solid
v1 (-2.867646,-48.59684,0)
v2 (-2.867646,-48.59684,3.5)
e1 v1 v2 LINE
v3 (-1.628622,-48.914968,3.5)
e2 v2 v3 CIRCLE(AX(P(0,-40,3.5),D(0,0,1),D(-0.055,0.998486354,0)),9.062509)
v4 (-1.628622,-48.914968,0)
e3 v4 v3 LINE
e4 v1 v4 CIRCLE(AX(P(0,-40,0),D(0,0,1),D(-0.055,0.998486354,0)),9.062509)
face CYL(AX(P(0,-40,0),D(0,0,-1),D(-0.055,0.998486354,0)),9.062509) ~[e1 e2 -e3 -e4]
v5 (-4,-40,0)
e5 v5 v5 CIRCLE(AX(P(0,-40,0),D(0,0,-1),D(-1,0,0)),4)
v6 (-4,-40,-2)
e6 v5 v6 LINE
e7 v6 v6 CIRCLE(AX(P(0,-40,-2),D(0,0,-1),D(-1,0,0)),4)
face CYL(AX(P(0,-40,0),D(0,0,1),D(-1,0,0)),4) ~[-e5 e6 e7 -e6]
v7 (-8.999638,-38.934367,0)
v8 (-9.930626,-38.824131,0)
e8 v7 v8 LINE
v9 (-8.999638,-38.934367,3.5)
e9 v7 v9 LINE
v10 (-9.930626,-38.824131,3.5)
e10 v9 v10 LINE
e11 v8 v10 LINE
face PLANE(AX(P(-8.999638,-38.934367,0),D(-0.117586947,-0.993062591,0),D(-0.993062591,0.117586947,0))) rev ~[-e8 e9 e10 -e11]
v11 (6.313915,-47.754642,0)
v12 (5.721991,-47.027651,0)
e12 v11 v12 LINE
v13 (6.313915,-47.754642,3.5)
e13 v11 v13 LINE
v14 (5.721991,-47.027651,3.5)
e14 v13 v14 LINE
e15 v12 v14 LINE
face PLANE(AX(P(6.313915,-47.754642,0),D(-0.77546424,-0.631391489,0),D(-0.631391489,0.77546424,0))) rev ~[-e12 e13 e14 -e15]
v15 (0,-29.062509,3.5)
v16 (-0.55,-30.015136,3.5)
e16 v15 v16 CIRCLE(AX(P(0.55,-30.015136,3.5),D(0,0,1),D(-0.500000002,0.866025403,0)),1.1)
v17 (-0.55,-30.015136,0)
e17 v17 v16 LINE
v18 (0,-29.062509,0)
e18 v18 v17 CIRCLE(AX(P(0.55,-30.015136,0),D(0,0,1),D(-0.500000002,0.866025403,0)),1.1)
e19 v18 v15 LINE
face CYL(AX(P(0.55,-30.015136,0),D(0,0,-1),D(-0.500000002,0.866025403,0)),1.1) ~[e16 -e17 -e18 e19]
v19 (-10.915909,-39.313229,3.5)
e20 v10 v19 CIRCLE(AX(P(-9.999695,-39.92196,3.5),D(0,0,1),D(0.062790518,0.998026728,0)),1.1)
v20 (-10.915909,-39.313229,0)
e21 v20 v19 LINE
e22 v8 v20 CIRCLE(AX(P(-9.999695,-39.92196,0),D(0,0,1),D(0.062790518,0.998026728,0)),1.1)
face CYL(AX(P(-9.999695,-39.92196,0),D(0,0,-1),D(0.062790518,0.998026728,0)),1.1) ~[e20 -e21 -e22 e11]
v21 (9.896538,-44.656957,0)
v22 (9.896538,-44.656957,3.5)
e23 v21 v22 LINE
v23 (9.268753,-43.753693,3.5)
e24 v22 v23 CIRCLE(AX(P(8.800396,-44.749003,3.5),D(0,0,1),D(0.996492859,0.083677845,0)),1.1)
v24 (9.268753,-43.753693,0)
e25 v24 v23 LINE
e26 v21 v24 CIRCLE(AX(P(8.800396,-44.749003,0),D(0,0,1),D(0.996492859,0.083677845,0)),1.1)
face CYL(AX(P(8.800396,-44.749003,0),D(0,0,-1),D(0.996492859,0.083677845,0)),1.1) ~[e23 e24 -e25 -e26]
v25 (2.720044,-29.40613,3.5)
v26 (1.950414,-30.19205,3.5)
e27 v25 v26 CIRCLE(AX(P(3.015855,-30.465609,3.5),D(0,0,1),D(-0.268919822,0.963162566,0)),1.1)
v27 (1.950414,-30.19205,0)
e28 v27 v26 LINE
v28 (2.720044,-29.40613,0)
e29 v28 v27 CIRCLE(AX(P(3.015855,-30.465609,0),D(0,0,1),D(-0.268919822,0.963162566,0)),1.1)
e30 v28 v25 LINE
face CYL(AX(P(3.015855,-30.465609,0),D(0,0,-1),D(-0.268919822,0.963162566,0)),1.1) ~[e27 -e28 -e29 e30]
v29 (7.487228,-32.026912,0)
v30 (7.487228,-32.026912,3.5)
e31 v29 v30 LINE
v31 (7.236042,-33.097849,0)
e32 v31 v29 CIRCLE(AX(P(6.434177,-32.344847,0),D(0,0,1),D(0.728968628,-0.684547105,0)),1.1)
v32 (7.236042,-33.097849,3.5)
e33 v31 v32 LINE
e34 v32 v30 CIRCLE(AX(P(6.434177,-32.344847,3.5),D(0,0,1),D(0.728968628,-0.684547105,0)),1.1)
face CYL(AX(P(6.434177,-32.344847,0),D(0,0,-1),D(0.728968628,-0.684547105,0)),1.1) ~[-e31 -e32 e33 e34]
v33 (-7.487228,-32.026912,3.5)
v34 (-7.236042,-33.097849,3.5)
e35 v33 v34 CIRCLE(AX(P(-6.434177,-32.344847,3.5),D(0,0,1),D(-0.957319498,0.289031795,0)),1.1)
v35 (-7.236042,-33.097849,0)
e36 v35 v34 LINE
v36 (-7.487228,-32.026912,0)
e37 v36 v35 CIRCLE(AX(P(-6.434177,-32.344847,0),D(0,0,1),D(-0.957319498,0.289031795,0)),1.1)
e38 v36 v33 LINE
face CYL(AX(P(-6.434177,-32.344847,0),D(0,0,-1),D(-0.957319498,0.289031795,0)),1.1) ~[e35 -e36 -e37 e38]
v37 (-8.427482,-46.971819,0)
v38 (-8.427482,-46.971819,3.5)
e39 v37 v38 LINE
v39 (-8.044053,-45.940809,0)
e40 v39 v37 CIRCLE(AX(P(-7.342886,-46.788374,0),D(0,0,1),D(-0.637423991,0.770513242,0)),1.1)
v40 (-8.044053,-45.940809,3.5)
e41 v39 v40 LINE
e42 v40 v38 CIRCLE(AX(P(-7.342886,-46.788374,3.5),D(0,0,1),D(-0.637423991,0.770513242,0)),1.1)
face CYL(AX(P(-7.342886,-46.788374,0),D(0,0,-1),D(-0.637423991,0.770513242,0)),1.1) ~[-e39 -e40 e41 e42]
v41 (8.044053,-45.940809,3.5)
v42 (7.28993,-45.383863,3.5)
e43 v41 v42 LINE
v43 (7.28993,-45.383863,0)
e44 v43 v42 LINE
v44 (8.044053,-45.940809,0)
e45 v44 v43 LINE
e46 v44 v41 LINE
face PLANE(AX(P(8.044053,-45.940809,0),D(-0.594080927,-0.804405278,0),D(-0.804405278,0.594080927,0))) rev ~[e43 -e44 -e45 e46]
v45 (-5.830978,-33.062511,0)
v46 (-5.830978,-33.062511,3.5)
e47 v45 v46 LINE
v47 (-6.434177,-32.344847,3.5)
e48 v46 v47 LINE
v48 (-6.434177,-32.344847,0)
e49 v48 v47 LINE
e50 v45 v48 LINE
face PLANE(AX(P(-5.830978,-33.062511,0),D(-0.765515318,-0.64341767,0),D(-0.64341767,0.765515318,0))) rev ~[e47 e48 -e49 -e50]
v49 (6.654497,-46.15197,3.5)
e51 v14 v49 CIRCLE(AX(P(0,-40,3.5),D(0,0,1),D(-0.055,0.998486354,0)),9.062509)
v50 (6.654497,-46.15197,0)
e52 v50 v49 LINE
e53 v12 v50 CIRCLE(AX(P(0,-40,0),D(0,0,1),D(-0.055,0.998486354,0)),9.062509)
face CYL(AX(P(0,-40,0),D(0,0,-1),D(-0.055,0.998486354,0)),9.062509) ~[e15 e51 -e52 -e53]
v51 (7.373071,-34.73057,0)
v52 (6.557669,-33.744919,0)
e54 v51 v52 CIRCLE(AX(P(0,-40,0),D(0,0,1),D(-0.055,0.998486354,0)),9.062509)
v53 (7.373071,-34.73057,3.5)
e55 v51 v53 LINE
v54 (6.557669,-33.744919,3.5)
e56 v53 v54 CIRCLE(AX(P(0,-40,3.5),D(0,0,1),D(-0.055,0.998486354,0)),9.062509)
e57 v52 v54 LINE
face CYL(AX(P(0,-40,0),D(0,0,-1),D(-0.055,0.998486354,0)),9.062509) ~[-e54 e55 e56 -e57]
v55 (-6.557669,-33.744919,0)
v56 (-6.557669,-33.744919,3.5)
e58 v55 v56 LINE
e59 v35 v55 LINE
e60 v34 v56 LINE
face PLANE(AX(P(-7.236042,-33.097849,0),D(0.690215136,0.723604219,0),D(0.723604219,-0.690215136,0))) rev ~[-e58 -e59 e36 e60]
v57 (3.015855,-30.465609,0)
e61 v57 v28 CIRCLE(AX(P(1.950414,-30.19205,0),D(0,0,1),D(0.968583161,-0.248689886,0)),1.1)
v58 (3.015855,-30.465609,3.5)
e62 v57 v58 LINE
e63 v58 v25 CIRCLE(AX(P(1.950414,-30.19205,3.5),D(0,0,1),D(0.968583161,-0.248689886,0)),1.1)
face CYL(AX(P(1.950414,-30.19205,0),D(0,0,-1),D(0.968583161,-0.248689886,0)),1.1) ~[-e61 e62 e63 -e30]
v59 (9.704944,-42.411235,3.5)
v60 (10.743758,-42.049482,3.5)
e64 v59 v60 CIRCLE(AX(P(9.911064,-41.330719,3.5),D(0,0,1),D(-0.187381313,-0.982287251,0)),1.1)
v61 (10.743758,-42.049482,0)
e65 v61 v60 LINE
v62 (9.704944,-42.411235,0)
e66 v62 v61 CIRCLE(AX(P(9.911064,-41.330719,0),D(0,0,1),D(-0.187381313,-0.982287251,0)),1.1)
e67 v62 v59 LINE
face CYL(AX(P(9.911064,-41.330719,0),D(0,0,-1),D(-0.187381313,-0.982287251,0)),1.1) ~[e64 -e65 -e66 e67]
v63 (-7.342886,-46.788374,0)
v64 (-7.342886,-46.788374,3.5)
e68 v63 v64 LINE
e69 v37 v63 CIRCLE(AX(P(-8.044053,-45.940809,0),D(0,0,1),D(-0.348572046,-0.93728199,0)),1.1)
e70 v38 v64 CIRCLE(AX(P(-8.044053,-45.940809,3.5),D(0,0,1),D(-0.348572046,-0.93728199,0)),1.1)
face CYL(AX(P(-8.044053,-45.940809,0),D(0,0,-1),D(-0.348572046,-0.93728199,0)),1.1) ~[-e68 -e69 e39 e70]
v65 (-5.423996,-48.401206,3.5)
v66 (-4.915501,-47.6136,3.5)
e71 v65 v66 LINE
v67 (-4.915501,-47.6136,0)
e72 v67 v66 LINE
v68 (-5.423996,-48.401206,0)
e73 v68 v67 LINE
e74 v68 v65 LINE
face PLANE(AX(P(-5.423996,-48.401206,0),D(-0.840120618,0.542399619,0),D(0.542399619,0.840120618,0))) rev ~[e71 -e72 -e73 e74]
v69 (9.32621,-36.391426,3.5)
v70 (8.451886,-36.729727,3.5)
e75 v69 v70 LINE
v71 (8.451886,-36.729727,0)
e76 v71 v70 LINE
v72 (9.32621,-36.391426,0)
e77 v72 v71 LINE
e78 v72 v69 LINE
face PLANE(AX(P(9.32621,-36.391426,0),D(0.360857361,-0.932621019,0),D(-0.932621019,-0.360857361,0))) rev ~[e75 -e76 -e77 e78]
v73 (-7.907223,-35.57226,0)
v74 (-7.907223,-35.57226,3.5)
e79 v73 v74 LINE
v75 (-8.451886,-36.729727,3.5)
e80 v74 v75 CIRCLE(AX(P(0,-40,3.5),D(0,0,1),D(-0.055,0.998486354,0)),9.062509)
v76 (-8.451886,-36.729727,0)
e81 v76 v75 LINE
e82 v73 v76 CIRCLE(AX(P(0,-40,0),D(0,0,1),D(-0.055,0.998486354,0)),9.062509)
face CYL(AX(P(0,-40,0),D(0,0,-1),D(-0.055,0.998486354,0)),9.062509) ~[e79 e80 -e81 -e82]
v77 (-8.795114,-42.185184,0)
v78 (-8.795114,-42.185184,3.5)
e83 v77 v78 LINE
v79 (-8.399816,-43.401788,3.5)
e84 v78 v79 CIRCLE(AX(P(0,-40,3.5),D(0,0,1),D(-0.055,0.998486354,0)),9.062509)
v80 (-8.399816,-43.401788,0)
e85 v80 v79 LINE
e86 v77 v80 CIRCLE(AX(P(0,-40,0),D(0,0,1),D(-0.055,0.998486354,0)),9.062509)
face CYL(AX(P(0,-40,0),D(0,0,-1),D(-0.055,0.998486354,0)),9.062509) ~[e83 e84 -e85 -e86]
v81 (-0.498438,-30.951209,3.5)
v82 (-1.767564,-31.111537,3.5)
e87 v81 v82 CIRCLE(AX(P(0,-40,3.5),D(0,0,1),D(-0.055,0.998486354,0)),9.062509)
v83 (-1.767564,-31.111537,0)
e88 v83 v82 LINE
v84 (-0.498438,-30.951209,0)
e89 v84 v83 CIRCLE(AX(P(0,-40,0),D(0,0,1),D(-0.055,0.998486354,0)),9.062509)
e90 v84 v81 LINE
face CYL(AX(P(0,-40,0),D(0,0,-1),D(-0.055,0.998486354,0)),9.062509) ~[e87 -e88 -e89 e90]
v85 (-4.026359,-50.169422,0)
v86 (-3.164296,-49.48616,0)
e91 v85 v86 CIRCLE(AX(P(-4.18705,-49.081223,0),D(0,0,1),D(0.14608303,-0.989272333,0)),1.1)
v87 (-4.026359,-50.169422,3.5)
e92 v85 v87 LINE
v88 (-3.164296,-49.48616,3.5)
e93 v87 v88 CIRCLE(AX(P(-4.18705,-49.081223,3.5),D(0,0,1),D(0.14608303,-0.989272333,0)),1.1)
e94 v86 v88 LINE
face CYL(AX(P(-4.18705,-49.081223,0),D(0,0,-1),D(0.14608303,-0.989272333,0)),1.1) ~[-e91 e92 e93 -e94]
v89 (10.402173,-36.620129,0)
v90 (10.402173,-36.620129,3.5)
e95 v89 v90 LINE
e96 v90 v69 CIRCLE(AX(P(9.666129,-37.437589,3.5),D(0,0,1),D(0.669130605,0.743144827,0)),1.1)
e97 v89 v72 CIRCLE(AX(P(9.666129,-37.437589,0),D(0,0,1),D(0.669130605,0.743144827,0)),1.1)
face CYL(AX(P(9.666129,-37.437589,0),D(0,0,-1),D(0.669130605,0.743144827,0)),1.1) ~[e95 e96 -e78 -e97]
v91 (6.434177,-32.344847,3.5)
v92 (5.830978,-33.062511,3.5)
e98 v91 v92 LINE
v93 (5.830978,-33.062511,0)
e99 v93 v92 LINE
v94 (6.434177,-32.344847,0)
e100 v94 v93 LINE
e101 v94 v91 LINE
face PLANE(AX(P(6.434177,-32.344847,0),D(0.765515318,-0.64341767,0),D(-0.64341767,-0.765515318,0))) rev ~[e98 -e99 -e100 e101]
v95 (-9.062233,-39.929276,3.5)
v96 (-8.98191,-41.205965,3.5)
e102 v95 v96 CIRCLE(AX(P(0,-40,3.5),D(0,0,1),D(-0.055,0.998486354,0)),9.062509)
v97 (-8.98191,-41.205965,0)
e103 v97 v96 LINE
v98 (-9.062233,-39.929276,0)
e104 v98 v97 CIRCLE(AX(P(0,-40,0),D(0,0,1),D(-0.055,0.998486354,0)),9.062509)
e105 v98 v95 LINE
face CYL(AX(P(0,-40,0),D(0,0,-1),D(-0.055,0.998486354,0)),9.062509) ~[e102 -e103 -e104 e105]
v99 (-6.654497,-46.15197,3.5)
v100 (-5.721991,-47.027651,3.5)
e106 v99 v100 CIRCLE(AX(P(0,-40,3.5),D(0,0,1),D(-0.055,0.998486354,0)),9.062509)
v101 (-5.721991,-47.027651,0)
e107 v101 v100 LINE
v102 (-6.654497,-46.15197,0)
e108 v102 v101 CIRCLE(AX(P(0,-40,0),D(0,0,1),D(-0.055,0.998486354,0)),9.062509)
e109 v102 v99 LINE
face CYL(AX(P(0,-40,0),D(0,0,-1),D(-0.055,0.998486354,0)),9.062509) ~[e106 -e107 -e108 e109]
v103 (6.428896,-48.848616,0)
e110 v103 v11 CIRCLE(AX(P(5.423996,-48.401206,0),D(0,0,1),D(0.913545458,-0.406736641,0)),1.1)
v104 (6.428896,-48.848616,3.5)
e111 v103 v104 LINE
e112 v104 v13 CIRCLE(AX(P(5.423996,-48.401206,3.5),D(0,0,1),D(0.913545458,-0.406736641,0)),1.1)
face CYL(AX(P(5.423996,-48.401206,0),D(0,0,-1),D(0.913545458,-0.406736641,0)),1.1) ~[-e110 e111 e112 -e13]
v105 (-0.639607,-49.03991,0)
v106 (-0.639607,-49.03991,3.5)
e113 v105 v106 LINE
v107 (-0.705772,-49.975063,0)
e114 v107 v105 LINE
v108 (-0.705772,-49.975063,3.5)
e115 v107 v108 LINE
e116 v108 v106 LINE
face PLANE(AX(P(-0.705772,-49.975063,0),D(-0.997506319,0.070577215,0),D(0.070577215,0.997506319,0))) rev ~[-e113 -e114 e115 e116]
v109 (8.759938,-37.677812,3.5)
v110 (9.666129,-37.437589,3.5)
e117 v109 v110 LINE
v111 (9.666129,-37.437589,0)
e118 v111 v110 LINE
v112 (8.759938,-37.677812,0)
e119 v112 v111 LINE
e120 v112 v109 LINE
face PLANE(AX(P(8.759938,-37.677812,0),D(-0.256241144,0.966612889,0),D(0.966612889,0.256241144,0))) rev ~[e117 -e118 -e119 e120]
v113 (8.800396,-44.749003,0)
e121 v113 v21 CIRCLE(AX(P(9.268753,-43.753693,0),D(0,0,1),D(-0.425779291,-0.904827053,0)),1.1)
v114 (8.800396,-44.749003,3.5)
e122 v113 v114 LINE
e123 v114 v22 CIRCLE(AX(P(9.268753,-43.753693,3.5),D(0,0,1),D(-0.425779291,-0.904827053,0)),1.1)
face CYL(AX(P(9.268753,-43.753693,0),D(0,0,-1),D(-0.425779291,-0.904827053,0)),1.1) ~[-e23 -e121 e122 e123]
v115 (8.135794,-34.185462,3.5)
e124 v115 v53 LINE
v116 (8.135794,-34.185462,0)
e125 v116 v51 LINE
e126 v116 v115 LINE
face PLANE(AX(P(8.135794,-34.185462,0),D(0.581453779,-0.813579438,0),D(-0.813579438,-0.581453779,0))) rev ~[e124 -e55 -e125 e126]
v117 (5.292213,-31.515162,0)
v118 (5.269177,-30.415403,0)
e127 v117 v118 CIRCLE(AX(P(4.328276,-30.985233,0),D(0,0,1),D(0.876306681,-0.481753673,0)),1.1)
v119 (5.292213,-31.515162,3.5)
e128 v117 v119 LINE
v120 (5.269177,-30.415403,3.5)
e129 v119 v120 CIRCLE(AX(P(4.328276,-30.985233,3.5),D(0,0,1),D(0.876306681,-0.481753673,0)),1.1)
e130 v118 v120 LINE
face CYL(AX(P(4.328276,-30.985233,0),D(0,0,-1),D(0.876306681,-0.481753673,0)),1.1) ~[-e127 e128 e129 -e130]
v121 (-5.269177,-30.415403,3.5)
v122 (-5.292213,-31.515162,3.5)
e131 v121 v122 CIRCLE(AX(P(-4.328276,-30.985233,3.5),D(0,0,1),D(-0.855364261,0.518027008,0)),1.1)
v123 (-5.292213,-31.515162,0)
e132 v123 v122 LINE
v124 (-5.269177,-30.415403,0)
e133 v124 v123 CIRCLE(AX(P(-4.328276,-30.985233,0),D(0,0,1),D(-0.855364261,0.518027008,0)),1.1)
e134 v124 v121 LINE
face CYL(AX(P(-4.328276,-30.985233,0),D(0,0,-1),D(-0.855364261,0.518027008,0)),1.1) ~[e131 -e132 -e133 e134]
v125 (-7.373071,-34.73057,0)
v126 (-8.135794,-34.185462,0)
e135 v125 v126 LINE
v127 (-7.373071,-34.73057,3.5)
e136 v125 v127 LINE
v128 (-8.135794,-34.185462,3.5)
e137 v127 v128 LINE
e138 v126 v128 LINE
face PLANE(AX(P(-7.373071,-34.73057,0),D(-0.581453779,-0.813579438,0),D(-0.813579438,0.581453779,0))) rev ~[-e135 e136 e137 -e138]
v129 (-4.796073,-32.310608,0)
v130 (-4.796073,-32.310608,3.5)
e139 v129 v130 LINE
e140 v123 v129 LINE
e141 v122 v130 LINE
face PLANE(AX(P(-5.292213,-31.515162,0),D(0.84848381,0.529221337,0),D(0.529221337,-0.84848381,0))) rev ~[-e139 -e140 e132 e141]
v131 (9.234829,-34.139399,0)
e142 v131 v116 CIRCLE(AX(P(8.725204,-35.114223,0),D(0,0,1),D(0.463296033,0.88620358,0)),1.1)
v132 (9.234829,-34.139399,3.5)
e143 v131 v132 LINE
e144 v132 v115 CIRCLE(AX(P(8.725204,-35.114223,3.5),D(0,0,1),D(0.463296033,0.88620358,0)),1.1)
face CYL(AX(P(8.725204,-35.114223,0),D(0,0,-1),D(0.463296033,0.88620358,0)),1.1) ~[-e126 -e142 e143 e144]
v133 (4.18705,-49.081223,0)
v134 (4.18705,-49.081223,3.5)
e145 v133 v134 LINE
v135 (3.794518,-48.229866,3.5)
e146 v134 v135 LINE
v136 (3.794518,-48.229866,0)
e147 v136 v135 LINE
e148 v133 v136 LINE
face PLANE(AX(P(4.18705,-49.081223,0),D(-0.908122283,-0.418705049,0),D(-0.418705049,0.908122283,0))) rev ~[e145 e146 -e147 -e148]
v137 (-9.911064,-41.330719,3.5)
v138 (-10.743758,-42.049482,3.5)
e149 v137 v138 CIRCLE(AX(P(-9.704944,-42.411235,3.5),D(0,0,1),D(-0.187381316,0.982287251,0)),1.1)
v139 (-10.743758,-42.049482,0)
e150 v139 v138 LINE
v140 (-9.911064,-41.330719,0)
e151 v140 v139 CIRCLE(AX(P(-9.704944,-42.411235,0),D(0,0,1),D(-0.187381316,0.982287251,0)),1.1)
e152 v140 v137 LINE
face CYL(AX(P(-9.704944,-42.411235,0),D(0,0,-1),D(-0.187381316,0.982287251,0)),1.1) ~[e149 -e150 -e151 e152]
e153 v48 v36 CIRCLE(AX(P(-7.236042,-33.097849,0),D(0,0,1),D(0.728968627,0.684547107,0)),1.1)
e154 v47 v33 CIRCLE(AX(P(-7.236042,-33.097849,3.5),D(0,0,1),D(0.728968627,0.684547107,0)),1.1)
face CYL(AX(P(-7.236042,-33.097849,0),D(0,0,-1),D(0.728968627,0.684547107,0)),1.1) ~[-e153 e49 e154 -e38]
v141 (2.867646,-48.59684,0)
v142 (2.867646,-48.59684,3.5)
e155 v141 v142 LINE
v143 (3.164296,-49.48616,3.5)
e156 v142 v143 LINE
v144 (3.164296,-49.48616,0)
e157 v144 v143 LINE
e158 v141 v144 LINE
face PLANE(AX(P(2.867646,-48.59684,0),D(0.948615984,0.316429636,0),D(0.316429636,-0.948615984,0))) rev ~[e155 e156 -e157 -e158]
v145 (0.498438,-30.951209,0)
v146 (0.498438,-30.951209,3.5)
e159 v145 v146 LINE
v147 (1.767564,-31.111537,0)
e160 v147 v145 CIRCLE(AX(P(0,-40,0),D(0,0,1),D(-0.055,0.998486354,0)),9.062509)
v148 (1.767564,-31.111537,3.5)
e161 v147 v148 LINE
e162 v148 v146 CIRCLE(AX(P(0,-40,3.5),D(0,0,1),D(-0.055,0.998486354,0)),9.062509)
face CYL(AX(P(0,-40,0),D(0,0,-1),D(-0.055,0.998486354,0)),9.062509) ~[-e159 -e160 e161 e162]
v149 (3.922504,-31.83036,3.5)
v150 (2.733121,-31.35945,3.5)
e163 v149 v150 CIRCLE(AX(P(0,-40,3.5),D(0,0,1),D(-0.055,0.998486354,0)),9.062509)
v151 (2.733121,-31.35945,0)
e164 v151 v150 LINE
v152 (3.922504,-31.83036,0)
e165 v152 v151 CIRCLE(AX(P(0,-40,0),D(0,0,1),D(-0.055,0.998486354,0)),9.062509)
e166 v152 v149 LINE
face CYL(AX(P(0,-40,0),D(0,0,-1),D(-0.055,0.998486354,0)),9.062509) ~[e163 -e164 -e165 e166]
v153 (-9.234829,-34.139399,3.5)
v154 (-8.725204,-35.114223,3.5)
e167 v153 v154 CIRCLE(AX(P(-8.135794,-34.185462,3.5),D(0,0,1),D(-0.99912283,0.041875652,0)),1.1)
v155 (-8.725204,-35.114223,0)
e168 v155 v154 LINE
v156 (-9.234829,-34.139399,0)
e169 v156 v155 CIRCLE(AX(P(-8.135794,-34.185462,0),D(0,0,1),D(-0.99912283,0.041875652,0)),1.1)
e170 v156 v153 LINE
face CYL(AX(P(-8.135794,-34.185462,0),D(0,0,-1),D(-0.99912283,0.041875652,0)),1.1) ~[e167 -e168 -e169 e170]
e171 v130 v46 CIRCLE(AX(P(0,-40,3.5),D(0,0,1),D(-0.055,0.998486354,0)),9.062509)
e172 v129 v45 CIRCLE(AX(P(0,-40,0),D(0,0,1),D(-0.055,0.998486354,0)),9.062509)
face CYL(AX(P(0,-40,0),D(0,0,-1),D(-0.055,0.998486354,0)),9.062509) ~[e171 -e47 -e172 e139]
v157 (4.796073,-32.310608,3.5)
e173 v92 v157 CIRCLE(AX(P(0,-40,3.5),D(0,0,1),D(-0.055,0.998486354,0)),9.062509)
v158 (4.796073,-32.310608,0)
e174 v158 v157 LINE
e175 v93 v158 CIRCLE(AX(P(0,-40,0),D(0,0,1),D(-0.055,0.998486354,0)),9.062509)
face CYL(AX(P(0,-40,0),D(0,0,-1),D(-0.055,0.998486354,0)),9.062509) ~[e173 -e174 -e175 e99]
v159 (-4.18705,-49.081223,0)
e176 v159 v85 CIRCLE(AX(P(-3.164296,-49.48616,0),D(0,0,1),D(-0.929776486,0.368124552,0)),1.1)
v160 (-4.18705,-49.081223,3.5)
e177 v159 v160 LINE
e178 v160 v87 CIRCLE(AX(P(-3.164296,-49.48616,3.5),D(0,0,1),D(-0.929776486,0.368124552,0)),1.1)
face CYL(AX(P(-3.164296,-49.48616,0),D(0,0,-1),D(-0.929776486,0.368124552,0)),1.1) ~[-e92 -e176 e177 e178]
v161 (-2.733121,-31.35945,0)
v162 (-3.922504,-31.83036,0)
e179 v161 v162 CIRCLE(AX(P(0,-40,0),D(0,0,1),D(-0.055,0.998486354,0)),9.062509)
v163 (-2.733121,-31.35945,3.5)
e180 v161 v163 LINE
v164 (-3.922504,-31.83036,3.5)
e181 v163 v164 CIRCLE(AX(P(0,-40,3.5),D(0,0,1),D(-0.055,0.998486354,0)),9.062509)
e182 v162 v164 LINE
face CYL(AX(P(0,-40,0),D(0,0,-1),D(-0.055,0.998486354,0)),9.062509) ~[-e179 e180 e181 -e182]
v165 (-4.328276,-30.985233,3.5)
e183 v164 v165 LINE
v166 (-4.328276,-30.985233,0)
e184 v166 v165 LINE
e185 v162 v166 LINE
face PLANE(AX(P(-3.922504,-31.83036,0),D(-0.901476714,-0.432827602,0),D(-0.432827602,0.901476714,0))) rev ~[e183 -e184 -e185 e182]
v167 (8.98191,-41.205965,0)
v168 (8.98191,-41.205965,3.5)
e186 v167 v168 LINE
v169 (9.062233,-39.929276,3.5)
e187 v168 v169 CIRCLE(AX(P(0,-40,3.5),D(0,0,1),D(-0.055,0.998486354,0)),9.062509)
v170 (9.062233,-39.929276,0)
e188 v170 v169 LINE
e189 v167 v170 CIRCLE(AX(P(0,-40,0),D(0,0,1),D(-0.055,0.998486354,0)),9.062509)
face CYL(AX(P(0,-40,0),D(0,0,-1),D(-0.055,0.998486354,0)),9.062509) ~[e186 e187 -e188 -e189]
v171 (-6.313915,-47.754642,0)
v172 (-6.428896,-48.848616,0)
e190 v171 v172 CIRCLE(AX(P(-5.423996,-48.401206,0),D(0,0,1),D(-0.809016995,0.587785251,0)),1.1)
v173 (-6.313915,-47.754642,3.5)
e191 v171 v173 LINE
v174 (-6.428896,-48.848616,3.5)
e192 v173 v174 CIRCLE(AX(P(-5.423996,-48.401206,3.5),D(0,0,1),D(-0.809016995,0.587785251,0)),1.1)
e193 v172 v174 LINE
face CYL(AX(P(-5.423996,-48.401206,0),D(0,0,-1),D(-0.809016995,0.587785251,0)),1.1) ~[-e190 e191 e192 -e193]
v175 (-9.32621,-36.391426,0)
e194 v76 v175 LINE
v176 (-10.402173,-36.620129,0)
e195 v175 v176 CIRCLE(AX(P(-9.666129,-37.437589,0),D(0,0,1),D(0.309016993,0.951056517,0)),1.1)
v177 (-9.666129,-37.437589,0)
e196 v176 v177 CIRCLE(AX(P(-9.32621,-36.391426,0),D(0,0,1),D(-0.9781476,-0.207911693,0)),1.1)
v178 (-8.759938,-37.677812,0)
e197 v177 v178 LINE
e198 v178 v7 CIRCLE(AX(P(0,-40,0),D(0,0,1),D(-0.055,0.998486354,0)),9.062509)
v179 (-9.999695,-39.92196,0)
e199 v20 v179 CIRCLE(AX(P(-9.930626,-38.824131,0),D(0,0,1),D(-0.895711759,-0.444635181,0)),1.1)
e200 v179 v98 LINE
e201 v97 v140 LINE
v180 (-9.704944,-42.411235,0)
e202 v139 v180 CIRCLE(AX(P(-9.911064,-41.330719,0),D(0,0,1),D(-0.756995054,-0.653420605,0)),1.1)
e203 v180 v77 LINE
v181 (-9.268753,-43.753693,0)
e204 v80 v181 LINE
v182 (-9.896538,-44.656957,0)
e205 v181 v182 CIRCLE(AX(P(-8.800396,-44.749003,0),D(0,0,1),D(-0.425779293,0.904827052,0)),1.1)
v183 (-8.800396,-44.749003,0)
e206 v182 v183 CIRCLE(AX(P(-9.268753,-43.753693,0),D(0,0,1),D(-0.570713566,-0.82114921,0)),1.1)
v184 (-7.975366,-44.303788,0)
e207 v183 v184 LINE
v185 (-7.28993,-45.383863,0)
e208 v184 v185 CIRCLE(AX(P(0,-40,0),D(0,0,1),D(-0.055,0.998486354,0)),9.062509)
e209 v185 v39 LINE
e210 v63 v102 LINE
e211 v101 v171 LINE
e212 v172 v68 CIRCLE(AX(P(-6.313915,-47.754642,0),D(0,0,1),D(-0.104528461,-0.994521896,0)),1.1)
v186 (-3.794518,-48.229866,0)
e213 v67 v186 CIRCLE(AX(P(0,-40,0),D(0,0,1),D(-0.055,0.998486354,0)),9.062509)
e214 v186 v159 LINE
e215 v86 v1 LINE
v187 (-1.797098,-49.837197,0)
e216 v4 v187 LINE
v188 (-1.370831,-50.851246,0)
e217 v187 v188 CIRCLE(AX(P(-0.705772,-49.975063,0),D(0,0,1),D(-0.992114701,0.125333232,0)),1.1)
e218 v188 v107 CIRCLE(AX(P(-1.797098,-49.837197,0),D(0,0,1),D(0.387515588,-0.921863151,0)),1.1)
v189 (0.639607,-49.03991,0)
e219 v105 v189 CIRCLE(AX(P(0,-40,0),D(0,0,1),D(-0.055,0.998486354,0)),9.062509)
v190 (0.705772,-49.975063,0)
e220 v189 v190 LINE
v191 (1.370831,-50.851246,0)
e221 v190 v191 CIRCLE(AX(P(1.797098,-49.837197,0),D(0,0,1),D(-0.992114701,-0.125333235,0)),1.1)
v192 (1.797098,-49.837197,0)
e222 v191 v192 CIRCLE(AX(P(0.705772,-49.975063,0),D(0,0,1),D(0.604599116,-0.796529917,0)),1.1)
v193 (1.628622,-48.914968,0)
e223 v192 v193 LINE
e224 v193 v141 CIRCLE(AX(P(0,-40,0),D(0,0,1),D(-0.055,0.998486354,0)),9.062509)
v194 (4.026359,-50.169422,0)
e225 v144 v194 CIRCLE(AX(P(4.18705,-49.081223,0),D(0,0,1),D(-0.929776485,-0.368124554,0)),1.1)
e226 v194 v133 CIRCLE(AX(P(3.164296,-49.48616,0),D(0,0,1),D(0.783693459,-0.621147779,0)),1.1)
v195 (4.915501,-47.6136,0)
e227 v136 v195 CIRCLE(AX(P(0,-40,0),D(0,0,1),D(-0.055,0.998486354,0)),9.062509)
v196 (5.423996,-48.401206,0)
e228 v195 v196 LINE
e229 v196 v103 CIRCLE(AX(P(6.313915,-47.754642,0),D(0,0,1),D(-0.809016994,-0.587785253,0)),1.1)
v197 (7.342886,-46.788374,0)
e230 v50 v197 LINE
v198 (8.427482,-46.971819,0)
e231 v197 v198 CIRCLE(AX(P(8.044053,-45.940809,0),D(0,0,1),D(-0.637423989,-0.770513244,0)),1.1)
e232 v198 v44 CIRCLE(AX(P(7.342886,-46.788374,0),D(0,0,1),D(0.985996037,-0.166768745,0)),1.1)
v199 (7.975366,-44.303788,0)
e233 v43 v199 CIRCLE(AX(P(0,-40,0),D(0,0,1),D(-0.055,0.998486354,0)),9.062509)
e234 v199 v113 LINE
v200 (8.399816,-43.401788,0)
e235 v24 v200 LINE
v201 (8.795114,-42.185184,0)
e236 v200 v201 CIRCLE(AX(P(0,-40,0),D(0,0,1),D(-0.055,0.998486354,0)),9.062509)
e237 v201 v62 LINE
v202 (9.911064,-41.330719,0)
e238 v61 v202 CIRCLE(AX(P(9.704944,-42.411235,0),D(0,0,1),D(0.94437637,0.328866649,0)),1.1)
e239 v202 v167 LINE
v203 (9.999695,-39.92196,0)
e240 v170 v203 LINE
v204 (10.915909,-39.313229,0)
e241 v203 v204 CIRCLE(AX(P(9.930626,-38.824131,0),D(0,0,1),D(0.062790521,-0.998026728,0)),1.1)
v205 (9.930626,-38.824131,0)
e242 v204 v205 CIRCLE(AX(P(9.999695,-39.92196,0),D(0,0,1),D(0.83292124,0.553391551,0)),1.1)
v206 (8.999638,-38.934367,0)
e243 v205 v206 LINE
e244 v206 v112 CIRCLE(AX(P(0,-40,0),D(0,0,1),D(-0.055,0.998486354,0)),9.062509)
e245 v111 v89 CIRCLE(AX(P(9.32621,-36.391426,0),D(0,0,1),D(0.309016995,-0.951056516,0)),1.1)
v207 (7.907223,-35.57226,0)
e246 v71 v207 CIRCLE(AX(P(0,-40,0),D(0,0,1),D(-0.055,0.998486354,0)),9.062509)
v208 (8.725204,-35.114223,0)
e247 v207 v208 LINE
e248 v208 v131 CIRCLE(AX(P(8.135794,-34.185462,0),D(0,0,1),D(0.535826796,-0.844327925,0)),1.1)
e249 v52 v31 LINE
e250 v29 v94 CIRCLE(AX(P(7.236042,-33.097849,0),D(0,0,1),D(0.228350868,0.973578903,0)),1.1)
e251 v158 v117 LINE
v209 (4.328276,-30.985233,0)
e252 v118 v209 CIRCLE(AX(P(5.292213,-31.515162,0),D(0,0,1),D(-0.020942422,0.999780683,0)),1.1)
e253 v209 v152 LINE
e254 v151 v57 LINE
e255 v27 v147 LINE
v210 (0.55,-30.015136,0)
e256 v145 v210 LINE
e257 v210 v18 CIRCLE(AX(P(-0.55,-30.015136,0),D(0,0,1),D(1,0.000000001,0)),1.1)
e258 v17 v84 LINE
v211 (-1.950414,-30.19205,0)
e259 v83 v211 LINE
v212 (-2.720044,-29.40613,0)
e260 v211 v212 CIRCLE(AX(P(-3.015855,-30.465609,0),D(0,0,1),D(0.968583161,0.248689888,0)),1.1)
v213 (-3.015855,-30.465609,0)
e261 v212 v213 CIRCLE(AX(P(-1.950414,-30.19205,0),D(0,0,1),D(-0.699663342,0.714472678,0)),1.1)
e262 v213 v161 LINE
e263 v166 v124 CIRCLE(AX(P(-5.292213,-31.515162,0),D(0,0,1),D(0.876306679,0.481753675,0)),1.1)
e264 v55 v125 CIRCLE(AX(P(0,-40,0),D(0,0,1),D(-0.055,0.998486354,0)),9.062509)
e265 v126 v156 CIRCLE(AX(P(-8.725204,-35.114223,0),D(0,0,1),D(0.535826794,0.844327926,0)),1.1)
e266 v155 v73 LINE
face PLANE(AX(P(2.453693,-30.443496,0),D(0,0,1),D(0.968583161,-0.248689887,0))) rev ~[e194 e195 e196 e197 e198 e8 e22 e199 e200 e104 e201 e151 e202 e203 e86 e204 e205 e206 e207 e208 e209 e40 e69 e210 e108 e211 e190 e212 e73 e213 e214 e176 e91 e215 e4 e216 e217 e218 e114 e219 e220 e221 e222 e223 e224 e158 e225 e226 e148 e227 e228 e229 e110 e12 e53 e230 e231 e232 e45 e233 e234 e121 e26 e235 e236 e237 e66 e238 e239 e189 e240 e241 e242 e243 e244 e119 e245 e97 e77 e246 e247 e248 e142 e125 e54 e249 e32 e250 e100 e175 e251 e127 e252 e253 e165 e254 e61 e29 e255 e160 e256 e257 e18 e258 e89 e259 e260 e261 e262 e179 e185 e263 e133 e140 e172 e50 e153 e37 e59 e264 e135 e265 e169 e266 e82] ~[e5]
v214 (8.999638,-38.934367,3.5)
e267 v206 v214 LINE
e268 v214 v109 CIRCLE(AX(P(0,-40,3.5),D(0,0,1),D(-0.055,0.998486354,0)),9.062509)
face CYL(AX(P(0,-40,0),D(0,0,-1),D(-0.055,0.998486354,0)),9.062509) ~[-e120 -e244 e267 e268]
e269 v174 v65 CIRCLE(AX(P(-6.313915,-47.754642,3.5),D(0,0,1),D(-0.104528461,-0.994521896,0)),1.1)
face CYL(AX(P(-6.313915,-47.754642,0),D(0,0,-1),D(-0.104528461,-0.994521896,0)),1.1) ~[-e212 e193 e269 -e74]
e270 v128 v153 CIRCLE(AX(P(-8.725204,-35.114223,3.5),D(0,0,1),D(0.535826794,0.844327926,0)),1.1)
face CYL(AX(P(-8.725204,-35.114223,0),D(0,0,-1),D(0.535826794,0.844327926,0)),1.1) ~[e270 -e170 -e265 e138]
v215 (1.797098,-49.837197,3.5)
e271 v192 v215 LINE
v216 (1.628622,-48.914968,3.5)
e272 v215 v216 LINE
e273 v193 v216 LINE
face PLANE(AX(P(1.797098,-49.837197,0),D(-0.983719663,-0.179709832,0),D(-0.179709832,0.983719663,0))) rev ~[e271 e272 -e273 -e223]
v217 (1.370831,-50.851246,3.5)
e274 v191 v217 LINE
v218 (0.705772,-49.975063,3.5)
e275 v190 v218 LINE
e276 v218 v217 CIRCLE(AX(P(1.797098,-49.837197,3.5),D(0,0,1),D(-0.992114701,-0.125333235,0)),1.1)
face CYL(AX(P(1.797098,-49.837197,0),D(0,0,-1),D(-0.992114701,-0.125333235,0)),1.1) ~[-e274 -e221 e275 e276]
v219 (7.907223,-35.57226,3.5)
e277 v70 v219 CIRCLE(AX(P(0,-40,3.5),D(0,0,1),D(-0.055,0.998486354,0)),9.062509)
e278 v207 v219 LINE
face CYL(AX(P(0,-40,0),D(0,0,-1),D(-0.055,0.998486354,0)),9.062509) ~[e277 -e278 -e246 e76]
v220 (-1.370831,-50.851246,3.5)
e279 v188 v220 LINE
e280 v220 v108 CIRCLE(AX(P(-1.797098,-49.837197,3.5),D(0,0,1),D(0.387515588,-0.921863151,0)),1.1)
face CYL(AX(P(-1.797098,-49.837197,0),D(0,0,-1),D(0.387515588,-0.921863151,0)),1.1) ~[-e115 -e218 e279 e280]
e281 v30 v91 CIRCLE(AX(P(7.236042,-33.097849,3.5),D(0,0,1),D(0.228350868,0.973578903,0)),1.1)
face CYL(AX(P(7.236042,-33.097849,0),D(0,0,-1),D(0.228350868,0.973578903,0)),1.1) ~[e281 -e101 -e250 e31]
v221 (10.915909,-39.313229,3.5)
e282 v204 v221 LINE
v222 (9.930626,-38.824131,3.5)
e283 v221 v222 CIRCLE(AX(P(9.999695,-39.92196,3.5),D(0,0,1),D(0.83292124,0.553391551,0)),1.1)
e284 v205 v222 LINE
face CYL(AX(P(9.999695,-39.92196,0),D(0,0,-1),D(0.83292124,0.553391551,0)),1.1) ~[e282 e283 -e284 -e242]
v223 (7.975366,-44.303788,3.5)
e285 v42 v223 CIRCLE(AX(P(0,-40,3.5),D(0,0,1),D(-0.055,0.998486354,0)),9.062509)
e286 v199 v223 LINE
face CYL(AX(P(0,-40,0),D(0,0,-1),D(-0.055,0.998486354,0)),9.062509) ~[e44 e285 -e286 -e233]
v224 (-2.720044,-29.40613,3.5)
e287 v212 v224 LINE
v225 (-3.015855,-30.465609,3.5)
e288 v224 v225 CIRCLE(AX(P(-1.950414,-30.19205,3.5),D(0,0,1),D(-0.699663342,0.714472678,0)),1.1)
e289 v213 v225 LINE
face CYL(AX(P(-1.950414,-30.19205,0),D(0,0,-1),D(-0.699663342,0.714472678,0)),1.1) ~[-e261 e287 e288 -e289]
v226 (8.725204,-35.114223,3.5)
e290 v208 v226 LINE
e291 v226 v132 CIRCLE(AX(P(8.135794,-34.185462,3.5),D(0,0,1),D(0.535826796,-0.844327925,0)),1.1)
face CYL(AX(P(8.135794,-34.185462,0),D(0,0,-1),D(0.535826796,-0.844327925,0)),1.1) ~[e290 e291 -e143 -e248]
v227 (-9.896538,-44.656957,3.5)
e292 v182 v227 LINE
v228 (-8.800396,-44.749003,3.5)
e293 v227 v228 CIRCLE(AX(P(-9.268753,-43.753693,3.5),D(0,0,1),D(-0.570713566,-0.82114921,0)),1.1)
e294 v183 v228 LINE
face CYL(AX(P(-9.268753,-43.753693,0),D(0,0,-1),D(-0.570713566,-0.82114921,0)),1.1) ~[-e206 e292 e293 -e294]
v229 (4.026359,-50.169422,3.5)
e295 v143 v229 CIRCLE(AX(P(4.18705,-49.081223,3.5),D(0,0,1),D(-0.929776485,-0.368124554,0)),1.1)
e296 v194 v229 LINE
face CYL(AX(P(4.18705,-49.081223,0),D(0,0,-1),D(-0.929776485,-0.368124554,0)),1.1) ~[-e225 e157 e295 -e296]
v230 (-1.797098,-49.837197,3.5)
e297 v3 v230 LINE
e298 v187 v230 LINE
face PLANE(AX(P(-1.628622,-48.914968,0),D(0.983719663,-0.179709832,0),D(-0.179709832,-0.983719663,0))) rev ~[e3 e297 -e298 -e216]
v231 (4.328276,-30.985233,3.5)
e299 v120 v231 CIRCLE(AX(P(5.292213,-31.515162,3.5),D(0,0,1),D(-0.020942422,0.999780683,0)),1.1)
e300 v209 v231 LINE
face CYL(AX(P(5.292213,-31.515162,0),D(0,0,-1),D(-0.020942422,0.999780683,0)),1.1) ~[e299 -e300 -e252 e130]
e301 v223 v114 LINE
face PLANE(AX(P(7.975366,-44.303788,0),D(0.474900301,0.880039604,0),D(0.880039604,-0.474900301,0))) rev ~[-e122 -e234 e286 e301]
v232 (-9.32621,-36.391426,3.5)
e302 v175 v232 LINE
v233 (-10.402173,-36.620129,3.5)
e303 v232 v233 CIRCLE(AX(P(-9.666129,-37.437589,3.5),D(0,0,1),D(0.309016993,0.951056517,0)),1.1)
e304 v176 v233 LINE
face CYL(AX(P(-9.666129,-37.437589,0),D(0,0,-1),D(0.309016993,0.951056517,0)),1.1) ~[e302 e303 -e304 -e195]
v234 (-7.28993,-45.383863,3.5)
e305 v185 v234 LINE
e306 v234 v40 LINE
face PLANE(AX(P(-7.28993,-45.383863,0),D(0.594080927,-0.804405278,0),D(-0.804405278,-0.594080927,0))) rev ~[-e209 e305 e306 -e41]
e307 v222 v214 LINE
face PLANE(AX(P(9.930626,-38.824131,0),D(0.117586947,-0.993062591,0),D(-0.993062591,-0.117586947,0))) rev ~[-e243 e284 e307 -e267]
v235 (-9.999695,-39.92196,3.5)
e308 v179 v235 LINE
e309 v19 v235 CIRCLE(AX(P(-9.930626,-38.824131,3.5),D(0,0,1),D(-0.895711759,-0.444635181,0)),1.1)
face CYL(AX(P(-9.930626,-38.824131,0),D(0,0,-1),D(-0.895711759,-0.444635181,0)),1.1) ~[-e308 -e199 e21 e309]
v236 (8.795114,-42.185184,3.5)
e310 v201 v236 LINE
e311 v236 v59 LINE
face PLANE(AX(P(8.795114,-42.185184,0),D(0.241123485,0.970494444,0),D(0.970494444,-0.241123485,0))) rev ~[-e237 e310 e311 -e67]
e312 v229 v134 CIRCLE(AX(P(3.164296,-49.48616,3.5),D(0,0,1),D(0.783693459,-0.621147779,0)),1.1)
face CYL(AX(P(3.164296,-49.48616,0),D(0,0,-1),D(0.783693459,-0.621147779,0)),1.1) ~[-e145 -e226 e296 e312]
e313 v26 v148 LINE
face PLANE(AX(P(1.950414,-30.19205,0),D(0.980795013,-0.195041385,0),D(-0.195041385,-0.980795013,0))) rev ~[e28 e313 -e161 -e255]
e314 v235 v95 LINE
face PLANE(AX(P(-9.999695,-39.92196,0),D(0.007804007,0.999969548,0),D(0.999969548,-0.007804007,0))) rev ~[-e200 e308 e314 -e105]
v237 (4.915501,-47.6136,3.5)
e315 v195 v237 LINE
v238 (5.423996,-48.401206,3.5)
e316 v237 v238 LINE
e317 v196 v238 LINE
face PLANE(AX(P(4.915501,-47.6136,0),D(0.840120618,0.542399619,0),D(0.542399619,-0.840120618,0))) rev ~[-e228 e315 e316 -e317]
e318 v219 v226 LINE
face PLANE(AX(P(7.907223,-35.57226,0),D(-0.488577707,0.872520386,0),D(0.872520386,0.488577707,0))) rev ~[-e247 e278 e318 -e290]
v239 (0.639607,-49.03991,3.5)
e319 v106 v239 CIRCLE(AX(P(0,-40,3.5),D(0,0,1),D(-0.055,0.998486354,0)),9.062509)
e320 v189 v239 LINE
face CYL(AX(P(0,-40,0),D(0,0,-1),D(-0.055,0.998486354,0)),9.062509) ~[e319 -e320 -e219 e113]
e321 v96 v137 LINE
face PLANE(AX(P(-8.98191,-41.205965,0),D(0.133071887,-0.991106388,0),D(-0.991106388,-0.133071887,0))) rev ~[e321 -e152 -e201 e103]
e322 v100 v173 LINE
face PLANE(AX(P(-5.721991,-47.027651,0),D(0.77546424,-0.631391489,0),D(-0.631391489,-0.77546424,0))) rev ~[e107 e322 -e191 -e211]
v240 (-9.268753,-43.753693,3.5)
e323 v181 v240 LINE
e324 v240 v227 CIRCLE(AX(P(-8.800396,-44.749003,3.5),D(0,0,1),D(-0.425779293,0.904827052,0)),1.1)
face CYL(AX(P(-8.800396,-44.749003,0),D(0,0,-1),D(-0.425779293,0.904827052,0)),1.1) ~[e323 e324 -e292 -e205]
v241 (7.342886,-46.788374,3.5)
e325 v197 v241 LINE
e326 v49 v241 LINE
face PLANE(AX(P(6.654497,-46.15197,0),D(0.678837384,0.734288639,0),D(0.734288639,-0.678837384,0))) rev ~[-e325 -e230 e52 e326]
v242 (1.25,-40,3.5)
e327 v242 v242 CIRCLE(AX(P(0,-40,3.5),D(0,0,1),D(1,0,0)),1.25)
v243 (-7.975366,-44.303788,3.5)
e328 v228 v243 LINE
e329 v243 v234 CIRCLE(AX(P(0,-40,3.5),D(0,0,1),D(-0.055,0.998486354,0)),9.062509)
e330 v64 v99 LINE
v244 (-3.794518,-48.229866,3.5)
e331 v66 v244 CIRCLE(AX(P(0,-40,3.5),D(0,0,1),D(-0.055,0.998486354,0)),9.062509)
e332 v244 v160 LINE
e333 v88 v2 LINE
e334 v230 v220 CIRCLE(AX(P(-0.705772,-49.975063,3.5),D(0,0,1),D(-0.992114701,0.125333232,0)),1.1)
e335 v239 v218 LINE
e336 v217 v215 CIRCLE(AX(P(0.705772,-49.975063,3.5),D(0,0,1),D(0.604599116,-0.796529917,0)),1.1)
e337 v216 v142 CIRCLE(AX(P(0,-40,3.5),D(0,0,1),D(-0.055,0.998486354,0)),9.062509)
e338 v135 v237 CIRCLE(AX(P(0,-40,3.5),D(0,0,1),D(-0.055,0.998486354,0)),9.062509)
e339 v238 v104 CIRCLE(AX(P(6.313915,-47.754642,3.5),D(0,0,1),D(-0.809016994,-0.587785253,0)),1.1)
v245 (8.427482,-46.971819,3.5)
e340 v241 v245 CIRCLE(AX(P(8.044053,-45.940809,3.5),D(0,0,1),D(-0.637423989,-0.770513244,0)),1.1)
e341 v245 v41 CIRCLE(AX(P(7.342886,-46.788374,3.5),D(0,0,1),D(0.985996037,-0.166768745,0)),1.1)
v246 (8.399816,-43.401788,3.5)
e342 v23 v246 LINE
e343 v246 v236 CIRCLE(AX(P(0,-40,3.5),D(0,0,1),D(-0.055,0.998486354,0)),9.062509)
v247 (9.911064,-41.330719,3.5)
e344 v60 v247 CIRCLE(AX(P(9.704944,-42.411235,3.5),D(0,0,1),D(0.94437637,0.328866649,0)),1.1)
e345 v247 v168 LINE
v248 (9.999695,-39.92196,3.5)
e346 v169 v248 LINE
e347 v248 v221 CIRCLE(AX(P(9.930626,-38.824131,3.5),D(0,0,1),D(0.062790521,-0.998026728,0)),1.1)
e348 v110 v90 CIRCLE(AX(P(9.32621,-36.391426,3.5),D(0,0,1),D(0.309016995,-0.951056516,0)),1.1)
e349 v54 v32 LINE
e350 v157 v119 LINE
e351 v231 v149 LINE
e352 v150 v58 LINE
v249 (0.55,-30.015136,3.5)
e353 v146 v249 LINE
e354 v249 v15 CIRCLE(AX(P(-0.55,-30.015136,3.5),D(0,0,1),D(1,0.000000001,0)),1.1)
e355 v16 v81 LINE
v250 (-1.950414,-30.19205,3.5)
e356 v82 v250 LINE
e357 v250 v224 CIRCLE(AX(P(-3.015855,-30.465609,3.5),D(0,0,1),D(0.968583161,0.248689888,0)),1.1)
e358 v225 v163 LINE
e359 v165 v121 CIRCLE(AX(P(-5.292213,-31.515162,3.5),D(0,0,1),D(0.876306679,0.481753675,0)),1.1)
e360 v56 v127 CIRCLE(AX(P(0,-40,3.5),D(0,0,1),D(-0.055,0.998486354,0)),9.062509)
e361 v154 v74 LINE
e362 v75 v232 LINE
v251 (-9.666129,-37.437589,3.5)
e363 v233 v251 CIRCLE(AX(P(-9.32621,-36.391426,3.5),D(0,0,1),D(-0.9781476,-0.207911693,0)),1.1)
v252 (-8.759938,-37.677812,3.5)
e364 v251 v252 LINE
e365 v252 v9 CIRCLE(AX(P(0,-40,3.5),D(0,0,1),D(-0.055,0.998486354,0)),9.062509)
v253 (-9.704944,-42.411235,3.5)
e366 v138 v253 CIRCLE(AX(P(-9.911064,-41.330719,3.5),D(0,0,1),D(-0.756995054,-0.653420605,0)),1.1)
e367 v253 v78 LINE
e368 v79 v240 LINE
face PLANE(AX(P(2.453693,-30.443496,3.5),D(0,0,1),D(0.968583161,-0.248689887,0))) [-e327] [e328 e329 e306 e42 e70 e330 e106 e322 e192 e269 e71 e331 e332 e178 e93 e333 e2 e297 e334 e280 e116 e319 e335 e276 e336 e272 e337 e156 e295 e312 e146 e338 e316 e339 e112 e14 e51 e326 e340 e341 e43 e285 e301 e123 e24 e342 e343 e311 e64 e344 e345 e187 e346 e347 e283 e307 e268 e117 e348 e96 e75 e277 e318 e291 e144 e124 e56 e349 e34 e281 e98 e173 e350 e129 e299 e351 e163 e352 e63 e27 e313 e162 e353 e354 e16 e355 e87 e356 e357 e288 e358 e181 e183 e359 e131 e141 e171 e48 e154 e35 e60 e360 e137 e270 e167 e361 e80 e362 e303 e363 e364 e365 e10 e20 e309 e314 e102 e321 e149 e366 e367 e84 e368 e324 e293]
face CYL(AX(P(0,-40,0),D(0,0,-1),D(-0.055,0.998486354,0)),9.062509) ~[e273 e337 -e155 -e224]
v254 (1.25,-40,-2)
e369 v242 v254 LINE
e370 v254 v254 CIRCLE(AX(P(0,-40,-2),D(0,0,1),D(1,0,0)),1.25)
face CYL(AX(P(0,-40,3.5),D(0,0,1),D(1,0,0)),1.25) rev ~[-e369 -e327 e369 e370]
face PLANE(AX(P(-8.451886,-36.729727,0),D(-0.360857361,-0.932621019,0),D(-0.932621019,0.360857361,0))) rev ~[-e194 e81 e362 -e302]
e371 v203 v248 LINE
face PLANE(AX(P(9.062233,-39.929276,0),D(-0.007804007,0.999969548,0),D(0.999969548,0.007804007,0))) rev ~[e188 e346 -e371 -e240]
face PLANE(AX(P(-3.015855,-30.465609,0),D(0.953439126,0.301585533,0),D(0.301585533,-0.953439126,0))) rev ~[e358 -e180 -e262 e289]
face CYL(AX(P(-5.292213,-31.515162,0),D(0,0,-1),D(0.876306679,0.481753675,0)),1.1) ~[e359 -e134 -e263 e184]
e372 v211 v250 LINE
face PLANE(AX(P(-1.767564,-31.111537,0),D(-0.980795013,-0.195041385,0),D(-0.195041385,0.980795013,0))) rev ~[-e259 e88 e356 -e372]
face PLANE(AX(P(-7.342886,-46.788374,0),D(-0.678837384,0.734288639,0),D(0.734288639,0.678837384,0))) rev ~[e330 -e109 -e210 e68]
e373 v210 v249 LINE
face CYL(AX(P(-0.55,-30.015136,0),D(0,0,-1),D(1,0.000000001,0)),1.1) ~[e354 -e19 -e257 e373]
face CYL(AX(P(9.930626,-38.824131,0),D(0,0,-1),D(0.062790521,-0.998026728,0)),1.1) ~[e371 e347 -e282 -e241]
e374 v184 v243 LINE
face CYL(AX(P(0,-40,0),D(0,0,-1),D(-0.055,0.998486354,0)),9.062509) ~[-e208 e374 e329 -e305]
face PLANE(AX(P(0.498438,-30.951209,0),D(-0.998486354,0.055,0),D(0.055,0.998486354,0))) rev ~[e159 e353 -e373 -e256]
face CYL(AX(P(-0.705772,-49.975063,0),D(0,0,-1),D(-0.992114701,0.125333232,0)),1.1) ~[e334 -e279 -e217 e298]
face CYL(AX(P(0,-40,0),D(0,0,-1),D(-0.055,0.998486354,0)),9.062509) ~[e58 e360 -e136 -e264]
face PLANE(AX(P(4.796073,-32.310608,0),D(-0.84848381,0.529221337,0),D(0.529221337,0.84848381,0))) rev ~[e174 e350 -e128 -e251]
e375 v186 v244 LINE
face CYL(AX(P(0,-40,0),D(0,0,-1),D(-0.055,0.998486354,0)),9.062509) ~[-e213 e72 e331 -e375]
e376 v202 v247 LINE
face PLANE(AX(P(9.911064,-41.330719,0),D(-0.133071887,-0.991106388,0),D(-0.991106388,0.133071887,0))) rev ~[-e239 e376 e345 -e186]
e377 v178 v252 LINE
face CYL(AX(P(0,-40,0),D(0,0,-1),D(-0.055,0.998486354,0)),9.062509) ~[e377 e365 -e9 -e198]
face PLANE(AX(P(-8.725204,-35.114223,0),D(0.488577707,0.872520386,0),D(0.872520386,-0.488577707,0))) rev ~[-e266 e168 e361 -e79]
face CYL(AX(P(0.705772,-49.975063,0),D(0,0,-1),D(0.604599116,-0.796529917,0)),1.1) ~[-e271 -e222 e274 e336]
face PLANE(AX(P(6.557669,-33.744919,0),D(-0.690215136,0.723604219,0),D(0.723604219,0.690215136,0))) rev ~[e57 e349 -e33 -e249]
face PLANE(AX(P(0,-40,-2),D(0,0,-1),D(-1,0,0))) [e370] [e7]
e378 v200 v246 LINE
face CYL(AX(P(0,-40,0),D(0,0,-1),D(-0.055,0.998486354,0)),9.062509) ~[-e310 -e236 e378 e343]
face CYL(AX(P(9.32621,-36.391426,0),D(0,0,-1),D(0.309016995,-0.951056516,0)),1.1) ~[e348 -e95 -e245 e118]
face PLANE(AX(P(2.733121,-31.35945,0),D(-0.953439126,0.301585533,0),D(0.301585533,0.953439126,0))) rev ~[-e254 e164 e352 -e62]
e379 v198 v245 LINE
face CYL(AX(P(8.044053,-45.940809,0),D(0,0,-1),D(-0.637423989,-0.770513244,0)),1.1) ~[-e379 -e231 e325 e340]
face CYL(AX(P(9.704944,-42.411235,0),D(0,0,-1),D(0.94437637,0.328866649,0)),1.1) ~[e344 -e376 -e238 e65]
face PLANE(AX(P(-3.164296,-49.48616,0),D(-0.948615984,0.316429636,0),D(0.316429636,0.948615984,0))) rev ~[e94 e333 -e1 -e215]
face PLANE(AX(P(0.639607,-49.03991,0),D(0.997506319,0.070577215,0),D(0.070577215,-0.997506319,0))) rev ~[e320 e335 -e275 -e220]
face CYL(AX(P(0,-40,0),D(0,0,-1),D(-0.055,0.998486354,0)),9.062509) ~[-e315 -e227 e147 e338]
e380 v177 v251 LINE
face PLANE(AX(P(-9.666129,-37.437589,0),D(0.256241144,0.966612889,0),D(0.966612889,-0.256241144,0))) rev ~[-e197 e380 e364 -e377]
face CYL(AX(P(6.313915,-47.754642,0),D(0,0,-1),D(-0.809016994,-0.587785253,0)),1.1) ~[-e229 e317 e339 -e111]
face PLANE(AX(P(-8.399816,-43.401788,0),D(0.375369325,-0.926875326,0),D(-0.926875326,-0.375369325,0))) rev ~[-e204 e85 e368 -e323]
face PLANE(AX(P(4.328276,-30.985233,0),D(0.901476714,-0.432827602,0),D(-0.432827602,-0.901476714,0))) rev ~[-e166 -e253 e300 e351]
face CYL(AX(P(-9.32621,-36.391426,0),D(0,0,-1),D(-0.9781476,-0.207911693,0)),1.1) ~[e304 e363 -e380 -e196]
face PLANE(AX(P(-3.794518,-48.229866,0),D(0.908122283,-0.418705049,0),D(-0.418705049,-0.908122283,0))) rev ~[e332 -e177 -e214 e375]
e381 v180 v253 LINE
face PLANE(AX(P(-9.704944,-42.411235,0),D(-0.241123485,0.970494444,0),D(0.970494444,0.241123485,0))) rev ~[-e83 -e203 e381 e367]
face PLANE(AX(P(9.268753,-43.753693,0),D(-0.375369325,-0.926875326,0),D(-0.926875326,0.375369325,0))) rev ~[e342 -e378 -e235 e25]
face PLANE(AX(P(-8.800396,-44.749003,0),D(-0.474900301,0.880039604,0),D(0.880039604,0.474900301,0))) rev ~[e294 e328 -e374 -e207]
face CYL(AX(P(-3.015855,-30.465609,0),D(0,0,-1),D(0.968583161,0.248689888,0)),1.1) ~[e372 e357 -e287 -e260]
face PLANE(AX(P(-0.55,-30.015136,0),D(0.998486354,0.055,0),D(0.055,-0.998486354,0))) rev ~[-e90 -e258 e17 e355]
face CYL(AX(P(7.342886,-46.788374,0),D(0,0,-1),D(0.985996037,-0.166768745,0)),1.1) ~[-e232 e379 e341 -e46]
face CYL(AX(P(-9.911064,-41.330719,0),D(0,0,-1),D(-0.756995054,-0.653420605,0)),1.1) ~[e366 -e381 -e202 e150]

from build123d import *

# Parameters (mm, degrees)
SKETCH1_R           = 9.062508511
BOSS_EXTRUDE1_DEPTH = 3.5
CIRPATTERN1_COUNT   = 25
SKETCH3_R           = 4
BOSS_EXTRUDE2_DEPTH = 2
SKETCH2_R           = 1.25
CUT_EXTRUDE1_DEPTH  = 6.5


with BuildPart() as part:
    # Sketch1 → Boss-Extrude1 (new body)
    with BuildSketch(Plane.XY):
        with BuildLine():
            ThreePointArc((0, -29.062508511), (-0.402627944, -29.465136456), (-0.55, -30.015136456))
            Line((-0.55, -30.015136456), (-0.498437968, -30.951208914))
            ThreePointArc((-0.498437968, -30.951208914), (0, -30.937491489), (0.498437968, -30.951208914))
            Line((0.498437968, -30.951208914), (0.55, -30.015136456))
            ThreePointArc((0.55, -30.015136456), (0.402627944, -29.465136456), (0, -29.062508511))
        make_face()
        with Locations((0, -40)):
            Circle(SKETCH1_R)
    boss_extrude1 = extrude(amount=BOSS_EXTRUDE1_DEPTH)

    # CirPattern1: Boss-Extrude1 ×25 about axis
    cirpattern1_axis = Axis((0, -40, 0), (0, 0, 1))
    for i in range(1, CIRPATTERN1_COUNT):
        add(boss_extrude1.rotate(cirpattern1_axis, i * 360 / CIRPATTERN1_COUNT))

    # Sketch3 → Boss-Extrude2 (add)
    with BuildSketch(Plane(origin=(0, 0, 0), x_dir=(-1, 0, 0), z_dir=(0, 0, -1))):
        with Locations((0, -40)):
            Circle(SKETCH3_R)
    extrude(amount=BOSS_EXTRUDE2_DEPTH)

    # Sketch2 → Cut-Extrude1 (cut, through all)
    with BuildSketch(Plane.XY.offset(3.5)):
        with Locations((0, -40)):
            Circle(SKETCH2_R)
    extrude(amount=-CUT_EXTRUDE1_DEPTH, mode=Mode.SUBTRACT)


solid = part.part
